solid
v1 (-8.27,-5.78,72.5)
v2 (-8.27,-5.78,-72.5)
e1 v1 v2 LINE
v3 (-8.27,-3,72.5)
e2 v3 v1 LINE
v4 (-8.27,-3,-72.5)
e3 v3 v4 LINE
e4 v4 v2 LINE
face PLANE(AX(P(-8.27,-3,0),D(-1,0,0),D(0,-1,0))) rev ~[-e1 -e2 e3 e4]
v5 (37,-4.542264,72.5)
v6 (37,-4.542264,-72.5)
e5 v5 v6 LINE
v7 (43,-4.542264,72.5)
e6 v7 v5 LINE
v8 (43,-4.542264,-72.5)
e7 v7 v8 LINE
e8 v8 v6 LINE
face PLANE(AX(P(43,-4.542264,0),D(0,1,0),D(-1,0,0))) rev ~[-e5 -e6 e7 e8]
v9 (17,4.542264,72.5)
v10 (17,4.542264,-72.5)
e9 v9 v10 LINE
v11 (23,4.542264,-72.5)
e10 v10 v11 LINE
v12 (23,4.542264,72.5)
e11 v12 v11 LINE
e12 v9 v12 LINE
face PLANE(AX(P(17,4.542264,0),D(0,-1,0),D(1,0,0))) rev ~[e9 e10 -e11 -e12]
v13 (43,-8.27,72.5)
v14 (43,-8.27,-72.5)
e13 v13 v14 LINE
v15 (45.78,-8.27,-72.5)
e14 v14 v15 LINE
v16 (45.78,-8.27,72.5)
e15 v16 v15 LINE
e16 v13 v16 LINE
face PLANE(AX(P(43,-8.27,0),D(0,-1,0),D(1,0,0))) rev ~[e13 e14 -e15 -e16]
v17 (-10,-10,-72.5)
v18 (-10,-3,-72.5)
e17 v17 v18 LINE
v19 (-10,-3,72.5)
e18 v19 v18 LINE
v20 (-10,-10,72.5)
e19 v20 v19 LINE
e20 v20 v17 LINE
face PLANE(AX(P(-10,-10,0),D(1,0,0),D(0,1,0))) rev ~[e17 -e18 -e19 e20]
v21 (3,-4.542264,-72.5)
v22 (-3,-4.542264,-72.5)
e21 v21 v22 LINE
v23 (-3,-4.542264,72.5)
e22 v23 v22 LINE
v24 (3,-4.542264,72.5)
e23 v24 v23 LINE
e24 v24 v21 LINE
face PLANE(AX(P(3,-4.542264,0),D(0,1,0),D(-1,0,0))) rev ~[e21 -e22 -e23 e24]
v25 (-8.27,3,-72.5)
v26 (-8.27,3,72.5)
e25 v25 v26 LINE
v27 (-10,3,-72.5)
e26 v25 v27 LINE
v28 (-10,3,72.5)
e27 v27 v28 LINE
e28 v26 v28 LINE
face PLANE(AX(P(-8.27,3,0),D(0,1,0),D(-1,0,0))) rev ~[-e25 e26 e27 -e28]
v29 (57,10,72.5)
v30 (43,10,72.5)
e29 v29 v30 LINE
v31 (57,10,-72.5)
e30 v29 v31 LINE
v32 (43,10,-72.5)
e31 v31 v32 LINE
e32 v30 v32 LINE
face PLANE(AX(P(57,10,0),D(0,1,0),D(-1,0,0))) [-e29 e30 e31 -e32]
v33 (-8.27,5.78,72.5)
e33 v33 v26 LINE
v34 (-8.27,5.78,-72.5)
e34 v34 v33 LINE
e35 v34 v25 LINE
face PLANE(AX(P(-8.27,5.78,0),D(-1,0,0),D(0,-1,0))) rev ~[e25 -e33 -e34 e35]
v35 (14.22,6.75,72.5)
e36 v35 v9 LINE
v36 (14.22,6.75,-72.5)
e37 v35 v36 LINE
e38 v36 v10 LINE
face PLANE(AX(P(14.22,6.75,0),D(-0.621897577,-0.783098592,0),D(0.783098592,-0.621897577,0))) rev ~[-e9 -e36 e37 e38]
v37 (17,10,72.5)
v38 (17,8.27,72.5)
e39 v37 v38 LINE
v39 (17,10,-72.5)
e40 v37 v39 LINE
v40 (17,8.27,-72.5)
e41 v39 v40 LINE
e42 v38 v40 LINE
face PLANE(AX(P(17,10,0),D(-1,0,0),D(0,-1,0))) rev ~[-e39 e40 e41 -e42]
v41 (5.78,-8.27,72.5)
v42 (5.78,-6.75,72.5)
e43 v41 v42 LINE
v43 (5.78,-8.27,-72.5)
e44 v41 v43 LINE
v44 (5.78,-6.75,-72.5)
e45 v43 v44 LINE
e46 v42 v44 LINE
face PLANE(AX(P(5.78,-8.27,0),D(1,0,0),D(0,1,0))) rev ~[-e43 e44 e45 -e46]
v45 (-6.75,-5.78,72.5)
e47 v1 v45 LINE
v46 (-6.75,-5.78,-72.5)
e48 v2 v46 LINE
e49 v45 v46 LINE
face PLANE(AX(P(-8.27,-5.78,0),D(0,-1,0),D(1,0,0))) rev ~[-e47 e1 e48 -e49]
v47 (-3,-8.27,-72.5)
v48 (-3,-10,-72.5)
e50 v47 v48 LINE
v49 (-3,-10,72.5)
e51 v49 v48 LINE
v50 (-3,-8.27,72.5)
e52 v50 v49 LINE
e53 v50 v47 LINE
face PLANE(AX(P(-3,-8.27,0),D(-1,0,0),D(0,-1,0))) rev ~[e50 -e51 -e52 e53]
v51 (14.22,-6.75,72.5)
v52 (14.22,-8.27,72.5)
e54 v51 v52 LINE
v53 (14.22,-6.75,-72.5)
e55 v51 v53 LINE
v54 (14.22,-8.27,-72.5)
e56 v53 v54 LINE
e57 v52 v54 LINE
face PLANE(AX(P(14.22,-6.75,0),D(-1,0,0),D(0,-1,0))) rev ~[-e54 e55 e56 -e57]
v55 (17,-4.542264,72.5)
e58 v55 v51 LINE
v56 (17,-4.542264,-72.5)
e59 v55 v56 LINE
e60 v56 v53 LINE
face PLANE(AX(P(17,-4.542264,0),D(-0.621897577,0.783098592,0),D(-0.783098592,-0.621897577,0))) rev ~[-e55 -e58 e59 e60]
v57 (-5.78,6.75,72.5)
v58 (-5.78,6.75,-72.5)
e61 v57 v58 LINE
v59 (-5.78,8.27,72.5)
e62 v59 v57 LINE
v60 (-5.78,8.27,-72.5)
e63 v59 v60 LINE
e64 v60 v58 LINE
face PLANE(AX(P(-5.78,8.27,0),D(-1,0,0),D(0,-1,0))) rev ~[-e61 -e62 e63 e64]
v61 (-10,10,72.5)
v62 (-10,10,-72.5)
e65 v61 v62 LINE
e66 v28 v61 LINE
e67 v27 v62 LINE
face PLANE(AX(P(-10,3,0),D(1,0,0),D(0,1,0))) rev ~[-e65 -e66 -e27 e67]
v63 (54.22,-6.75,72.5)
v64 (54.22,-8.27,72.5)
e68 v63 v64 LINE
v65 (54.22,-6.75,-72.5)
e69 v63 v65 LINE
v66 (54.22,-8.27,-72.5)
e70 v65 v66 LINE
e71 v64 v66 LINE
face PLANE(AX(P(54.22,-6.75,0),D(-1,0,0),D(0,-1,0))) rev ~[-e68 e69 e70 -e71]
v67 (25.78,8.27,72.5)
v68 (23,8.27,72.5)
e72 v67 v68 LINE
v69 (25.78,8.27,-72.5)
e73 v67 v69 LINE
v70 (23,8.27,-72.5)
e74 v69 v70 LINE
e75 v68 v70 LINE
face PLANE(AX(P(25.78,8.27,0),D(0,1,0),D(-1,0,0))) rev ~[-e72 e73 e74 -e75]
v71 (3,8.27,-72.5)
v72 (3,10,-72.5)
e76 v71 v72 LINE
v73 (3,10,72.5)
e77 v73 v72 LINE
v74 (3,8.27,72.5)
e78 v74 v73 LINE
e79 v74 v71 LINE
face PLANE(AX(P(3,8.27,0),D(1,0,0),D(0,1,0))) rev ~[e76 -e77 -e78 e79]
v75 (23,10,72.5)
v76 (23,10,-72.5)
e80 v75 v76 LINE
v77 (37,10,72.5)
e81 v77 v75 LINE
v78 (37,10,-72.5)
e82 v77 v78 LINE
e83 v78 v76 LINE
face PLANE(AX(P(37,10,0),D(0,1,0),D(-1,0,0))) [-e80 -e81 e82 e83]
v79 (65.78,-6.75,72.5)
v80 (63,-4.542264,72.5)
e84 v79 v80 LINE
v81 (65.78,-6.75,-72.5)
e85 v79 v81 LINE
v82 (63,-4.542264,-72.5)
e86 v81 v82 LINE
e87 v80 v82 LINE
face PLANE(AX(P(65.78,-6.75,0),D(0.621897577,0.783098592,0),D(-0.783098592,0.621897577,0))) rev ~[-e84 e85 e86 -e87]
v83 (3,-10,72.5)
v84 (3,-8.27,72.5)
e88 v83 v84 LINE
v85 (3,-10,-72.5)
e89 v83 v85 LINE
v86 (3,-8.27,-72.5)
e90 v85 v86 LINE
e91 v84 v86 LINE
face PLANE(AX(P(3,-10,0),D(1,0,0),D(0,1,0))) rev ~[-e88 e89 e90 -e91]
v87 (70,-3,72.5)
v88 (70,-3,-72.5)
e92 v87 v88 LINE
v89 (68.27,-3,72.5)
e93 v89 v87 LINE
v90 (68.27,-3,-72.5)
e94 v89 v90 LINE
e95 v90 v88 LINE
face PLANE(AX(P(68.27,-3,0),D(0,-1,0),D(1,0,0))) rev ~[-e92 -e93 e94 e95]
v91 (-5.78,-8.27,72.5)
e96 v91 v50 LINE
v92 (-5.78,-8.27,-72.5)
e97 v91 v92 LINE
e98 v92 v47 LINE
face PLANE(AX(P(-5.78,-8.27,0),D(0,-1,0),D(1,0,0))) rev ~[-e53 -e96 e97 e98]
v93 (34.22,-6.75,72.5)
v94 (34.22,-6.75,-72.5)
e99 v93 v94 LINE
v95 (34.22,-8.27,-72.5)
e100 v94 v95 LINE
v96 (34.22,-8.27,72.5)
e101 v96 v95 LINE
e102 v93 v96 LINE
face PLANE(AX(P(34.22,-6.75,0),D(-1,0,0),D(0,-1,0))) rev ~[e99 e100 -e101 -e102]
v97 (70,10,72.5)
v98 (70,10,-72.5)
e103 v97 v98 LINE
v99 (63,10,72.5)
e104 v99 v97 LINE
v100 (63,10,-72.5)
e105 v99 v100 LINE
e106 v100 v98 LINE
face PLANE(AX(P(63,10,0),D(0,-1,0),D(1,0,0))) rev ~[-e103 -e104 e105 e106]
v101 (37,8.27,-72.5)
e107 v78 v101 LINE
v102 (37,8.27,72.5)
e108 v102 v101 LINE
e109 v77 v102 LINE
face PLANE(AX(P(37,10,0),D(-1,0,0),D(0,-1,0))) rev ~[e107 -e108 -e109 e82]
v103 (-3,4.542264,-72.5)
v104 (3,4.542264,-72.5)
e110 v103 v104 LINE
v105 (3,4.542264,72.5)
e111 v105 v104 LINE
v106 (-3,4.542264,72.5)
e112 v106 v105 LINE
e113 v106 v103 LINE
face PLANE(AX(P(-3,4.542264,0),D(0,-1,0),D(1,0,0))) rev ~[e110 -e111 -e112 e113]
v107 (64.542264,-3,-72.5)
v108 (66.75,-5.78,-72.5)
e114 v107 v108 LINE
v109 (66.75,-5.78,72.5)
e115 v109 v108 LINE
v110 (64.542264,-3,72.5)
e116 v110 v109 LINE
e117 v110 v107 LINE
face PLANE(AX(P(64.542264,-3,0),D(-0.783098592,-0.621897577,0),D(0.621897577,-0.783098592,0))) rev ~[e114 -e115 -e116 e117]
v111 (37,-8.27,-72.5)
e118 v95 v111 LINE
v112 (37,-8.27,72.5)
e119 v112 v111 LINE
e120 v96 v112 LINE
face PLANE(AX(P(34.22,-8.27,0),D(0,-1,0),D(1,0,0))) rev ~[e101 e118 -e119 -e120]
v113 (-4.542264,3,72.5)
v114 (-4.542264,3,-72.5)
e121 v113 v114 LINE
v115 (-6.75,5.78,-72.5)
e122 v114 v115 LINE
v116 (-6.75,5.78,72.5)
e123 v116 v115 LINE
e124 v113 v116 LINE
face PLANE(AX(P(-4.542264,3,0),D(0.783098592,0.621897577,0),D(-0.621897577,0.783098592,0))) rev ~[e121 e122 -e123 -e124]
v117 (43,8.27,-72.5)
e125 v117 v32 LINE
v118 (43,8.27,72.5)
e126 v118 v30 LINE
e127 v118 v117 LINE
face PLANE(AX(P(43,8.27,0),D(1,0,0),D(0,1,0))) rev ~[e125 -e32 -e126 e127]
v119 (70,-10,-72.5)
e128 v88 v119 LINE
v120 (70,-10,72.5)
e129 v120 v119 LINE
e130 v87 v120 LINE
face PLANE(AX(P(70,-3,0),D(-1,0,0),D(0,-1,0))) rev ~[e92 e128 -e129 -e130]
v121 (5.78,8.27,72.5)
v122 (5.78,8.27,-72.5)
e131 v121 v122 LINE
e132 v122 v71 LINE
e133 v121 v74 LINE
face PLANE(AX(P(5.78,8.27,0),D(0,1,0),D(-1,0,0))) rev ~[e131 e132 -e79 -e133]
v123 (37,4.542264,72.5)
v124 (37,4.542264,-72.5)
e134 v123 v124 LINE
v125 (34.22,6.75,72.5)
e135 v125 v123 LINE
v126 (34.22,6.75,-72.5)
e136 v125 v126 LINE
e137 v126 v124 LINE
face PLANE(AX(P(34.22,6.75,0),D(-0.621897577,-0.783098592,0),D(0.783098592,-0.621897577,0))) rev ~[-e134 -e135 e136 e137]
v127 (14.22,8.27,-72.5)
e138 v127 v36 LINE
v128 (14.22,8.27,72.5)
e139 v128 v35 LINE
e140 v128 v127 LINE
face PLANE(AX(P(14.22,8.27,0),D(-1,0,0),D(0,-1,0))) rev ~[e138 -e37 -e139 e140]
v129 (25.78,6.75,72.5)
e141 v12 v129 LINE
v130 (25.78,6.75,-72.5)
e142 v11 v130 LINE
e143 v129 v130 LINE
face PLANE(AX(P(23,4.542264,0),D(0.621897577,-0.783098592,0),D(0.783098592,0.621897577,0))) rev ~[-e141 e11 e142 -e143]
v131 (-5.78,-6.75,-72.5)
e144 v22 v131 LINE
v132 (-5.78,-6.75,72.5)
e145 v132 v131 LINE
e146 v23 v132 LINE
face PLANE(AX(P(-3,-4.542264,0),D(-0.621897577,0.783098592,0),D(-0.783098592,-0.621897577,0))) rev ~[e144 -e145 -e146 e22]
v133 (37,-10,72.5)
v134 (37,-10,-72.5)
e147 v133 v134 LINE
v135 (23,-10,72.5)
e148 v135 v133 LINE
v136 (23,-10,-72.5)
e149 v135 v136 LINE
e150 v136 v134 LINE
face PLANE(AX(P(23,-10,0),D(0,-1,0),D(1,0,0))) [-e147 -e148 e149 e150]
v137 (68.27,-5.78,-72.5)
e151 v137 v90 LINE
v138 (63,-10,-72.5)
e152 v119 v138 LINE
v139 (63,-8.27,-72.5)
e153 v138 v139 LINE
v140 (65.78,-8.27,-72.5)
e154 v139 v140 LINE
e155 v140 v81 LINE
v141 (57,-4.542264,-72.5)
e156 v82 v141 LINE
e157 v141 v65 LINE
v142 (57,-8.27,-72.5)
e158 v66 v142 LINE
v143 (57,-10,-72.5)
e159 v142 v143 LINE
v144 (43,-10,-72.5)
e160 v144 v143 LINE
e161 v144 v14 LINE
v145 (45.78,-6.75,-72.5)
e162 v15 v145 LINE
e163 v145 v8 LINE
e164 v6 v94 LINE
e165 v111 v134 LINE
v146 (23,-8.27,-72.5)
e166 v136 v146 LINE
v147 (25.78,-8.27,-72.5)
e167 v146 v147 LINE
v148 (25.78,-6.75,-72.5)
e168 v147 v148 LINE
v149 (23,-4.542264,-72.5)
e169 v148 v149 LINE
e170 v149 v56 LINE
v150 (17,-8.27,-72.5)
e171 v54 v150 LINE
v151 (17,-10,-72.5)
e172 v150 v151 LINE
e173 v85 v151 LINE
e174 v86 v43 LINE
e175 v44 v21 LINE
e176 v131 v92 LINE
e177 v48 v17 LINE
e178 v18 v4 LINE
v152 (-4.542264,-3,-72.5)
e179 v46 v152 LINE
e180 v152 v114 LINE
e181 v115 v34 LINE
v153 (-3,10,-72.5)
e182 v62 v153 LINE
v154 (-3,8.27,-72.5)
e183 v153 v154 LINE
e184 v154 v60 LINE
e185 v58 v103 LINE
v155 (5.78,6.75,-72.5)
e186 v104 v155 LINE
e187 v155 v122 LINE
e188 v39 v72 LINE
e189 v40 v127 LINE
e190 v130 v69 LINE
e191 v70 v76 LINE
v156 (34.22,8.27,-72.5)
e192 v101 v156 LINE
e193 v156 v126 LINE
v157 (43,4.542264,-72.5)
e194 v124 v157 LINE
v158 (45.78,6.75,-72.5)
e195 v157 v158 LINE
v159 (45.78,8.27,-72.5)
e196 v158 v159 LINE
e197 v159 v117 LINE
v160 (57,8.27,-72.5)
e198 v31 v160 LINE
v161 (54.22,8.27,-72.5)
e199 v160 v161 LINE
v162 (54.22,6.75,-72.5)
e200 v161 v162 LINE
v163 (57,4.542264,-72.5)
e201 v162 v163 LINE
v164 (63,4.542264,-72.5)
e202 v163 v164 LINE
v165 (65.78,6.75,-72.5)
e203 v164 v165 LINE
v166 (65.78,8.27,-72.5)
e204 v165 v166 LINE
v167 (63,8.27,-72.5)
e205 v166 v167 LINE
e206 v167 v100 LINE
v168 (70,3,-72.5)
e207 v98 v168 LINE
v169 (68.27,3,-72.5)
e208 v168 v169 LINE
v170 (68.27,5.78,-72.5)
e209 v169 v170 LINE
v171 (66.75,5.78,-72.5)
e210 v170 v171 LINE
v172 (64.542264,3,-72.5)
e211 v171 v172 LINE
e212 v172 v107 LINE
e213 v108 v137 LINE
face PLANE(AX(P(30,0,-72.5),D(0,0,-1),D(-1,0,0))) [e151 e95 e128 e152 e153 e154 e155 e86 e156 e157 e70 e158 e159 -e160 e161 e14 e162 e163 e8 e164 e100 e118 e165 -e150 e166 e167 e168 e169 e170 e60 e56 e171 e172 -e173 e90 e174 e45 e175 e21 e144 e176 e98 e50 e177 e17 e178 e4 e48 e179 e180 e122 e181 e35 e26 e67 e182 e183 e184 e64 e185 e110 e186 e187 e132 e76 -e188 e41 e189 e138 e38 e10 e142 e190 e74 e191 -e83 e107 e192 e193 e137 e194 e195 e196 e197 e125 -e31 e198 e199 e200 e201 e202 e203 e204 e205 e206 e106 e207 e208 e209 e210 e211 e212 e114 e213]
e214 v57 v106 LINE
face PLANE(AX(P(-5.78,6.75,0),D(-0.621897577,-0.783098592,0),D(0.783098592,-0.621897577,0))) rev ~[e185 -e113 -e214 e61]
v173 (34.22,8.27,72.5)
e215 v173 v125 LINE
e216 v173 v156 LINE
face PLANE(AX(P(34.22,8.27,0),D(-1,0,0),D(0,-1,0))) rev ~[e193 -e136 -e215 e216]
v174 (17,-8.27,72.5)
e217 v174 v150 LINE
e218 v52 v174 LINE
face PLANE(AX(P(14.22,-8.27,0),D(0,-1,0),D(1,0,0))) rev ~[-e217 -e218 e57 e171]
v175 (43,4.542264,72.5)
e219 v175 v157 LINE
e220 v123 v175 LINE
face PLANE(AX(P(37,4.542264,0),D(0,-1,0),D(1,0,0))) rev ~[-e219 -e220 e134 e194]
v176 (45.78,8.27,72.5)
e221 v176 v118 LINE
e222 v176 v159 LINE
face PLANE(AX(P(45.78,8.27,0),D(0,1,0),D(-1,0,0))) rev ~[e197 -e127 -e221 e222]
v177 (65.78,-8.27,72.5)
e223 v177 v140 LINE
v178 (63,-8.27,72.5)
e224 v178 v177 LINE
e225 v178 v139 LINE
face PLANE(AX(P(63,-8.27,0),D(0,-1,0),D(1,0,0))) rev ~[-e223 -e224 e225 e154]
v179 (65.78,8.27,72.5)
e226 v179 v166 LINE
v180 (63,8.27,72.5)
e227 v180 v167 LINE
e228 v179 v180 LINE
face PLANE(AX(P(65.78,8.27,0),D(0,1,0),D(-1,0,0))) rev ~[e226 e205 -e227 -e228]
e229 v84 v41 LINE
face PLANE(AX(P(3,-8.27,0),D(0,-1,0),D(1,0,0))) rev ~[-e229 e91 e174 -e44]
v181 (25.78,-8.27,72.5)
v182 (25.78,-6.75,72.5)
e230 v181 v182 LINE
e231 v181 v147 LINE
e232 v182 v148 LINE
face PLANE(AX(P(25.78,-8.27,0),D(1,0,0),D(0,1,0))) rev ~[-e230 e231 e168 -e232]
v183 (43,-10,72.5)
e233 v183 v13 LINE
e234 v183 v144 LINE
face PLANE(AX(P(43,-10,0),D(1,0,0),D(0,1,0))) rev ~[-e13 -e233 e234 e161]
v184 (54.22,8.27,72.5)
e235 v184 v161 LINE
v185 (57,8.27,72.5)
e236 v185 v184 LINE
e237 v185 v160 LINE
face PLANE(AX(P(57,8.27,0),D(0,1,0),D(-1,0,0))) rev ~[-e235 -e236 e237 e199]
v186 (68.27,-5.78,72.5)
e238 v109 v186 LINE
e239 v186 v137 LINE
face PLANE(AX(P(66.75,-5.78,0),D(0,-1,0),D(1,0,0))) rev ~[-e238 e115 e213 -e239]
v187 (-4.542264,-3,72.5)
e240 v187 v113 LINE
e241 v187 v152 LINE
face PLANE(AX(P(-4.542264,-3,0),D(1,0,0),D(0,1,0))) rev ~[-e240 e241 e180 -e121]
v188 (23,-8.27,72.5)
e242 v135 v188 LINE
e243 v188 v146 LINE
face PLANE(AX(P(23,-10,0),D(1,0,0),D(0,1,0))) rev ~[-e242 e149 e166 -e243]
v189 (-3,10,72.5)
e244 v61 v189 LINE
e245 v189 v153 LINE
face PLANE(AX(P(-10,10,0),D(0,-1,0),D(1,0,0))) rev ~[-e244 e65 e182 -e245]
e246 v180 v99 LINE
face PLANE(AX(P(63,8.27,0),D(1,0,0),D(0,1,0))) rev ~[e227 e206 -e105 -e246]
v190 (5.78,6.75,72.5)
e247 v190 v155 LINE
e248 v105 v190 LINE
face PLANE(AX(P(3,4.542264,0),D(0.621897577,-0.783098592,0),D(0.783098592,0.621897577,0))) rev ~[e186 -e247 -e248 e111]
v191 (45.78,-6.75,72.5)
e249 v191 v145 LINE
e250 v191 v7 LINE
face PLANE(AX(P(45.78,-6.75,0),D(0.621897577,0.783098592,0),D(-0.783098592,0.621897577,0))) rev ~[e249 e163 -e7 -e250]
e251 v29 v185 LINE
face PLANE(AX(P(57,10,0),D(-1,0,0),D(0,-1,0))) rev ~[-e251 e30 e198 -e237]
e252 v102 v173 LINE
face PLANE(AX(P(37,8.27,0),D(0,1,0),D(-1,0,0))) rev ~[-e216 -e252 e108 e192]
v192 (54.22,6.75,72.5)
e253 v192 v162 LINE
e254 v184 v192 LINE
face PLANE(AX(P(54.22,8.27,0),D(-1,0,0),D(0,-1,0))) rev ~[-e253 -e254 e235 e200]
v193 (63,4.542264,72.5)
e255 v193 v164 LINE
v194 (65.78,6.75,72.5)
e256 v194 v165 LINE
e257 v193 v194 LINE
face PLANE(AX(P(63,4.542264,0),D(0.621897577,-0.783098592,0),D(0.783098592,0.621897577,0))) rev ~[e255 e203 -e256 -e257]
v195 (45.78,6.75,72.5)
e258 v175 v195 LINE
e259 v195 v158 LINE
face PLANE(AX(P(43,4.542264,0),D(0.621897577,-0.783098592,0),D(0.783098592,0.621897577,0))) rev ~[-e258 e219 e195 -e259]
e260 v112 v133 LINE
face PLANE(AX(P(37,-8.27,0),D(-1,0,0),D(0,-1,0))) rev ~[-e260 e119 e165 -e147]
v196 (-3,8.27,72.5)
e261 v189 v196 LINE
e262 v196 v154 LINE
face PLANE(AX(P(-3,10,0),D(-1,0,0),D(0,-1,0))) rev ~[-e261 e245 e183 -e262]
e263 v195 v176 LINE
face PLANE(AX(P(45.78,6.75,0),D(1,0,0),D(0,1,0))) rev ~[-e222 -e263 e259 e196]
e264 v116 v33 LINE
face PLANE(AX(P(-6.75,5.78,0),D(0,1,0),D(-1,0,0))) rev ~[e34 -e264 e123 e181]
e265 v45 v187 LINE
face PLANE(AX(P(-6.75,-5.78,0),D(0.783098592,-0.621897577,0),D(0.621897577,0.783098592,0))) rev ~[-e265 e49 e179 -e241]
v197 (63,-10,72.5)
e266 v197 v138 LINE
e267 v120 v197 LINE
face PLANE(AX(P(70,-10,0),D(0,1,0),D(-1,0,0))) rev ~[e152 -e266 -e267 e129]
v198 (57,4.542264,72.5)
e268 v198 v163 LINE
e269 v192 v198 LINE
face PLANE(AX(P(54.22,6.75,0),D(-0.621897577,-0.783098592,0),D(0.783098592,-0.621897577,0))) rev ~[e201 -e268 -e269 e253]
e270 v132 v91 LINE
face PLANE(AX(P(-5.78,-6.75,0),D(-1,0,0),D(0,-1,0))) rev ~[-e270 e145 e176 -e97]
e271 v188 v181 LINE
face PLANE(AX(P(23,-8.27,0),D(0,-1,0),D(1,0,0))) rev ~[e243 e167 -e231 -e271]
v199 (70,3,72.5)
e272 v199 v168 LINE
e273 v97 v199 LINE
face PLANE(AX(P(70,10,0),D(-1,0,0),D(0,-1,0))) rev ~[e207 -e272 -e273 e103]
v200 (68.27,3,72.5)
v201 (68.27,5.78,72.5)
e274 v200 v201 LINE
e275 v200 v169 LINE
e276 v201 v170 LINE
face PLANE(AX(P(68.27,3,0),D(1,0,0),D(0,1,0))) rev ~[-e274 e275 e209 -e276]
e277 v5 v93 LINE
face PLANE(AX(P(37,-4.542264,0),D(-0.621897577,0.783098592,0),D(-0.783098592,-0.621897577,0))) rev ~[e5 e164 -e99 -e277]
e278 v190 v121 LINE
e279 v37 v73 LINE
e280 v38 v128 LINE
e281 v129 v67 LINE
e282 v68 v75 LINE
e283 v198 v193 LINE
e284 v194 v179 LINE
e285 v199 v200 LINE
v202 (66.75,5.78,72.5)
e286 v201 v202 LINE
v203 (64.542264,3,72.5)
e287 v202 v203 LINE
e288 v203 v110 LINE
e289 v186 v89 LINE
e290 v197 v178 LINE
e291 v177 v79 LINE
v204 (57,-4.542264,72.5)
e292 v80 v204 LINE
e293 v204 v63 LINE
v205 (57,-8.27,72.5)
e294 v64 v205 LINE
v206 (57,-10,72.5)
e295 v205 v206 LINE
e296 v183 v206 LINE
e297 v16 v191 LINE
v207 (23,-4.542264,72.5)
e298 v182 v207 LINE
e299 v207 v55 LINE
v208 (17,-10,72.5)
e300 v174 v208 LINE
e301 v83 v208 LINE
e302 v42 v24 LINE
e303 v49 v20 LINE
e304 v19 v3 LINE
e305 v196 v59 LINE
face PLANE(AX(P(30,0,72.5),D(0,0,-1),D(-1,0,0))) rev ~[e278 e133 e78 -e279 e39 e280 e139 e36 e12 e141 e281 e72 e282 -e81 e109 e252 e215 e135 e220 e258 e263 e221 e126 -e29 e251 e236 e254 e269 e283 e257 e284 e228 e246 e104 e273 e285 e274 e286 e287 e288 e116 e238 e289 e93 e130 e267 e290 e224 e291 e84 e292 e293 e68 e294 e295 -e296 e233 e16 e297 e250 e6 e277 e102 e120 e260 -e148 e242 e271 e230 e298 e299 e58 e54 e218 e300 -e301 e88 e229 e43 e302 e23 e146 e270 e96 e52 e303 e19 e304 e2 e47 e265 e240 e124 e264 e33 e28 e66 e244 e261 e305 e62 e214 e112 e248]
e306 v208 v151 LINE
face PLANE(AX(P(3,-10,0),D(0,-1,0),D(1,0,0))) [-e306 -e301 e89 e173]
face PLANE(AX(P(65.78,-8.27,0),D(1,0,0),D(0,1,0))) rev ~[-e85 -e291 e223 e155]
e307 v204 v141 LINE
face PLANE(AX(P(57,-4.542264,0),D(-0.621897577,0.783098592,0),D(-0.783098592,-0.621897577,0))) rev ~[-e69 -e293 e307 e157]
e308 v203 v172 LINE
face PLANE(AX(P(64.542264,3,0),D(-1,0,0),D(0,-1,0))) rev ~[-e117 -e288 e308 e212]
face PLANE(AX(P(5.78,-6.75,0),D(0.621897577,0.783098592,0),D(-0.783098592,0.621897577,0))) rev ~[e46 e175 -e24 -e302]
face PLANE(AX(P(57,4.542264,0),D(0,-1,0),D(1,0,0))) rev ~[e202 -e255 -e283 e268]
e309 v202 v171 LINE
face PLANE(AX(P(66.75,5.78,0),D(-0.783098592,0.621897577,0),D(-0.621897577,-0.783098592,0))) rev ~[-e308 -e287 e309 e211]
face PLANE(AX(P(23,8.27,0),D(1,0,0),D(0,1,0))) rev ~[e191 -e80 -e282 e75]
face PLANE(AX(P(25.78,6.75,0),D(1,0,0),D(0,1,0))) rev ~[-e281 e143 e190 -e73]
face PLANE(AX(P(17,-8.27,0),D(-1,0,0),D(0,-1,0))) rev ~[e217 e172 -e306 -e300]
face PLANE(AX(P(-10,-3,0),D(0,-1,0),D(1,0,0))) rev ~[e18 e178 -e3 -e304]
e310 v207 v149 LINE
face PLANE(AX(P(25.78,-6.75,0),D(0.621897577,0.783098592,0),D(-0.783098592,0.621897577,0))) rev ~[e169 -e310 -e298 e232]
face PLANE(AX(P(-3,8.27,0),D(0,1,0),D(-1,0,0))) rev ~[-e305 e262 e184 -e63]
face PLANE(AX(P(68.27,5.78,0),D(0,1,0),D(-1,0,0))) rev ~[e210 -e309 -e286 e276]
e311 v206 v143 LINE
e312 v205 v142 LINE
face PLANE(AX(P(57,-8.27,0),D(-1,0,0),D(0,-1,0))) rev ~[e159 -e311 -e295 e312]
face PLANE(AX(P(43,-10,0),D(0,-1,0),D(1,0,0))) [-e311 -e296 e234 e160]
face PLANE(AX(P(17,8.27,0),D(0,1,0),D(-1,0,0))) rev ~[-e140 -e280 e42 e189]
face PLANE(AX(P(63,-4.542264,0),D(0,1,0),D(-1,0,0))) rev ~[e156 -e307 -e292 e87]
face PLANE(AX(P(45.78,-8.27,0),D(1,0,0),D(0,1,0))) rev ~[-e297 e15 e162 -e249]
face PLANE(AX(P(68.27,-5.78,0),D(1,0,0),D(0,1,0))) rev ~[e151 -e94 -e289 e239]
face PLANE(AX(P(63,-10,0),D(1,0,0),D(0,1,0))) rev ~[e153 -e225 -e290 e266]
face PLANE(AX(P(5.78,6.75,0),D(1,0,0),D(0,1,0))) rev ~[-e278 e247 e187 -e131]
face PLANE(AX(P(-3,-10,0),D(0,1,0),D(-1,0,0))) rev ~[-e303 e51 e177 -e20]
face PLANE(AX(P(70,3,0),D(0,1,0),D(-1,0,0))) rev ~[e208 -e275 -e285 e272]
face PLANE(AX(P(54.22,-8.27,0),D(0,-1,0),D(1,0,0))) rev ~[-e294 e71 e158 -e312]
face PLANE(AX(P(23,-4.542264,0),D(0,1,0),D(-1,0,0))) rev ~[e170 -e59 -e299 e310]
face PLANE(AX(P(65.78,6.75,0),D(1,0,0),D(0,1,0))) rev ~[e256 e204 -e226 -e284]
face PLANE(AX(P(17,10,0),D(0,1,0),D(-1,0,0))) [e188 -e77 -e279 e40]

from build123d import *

# Parameters (mm, degrees)
BOSS_EXTRUDE1_DEPTH = 72.5


with BuildPart() as part:
    # Sketch1 → Boss-Extrude1 (new, symmetric)
    with BuildSketch(Plane.XY):
        Polygon((-10, 3), (-10, 10), (-3, 10), (-3, 8.27), (-5.78, 8.27), (-5.78, 6.75), (-3, 4.542263603), (3, 4.542263603), (5.78, 6.75), (5.78, 8.27), (3, 8.27), (3, 10), (10, 10), (17, 10), (17, 8.27), (14.22, 8.27), (14.22, 6.75), (17, 4.542263603), (23, 4.542263603), (25.78, 6.75), (25.78, 8.27), (23, 8.27), (23, 10), (30, 10), (37, 10), (37, 8.27), (34.22, 8.27), (34.22, 6.75), (37, 4.542263603), (43, 4.542263603), (45.78, 6.75), (45.78, 8.27), (43, 8.27), (43, 10), (50, 10), (57, 10), (57, 8.27), (54.22, 8.27), (54.22, 6.75), (57, 4.542263603), (63, 4.542263603), (65.78, 6.75), (65.78, 8.27), (63, 8.27), (63, 10), (70, 10), (70, 3), (68.27, 3), (68.27, 5.78), (66.75, 5.78), (64.542263603, 3), (64.542263603, -3), (66.75, -5.78), (68.27, -5.78), (68.27, -3), (70, -3), (70, -10), (63, -10), (63, -8.27), (65.78, -8.27), (65.78, -6.75), (63, -4.542263603), (57, -4.542263603), (54.22, -6.75), (54.22, -8.27), (57, -8.27), (57, -10), (50, -10), (43, -10), (43, -8.27), (45.78, -8.27), (45.78, -6.75), (43, -4.542263603), (37, -4.542263603), (34.22, -6.75), (34.22, -8.27), (37, -8.27), (37, -10), (30, -10), (23, -10), (23, -8.27), (25.78, -8.27), (25.78, -6.75), (23, -4.542263603), (17, -4.542263603), (14.22, -6.75), (14.22, -8.27), (17, -8.27), (17, -10), (10, -10), (3, -10), (3, -8.27), (5.78, -8.27), (5.78, -6.75), (3, -4.542263603), (-3, -4.542263603), (-5.78, -6.75), (-5.78, -8.27), (-3, -8.27), (-3, -10), (-10, -10), (-10, -3), (-8.27, -3), (-8.27, -5.78), (-6.75, -5.78), (-4.542263603, -3), (-4.542263603, 3), (-6.75, 5.78), (-8.27, 5.78), (-8.27, 3), align=None)
    extrude(amount=BOSS_EXTRUDE1_DEPTH, both=True)


solid = part.part
